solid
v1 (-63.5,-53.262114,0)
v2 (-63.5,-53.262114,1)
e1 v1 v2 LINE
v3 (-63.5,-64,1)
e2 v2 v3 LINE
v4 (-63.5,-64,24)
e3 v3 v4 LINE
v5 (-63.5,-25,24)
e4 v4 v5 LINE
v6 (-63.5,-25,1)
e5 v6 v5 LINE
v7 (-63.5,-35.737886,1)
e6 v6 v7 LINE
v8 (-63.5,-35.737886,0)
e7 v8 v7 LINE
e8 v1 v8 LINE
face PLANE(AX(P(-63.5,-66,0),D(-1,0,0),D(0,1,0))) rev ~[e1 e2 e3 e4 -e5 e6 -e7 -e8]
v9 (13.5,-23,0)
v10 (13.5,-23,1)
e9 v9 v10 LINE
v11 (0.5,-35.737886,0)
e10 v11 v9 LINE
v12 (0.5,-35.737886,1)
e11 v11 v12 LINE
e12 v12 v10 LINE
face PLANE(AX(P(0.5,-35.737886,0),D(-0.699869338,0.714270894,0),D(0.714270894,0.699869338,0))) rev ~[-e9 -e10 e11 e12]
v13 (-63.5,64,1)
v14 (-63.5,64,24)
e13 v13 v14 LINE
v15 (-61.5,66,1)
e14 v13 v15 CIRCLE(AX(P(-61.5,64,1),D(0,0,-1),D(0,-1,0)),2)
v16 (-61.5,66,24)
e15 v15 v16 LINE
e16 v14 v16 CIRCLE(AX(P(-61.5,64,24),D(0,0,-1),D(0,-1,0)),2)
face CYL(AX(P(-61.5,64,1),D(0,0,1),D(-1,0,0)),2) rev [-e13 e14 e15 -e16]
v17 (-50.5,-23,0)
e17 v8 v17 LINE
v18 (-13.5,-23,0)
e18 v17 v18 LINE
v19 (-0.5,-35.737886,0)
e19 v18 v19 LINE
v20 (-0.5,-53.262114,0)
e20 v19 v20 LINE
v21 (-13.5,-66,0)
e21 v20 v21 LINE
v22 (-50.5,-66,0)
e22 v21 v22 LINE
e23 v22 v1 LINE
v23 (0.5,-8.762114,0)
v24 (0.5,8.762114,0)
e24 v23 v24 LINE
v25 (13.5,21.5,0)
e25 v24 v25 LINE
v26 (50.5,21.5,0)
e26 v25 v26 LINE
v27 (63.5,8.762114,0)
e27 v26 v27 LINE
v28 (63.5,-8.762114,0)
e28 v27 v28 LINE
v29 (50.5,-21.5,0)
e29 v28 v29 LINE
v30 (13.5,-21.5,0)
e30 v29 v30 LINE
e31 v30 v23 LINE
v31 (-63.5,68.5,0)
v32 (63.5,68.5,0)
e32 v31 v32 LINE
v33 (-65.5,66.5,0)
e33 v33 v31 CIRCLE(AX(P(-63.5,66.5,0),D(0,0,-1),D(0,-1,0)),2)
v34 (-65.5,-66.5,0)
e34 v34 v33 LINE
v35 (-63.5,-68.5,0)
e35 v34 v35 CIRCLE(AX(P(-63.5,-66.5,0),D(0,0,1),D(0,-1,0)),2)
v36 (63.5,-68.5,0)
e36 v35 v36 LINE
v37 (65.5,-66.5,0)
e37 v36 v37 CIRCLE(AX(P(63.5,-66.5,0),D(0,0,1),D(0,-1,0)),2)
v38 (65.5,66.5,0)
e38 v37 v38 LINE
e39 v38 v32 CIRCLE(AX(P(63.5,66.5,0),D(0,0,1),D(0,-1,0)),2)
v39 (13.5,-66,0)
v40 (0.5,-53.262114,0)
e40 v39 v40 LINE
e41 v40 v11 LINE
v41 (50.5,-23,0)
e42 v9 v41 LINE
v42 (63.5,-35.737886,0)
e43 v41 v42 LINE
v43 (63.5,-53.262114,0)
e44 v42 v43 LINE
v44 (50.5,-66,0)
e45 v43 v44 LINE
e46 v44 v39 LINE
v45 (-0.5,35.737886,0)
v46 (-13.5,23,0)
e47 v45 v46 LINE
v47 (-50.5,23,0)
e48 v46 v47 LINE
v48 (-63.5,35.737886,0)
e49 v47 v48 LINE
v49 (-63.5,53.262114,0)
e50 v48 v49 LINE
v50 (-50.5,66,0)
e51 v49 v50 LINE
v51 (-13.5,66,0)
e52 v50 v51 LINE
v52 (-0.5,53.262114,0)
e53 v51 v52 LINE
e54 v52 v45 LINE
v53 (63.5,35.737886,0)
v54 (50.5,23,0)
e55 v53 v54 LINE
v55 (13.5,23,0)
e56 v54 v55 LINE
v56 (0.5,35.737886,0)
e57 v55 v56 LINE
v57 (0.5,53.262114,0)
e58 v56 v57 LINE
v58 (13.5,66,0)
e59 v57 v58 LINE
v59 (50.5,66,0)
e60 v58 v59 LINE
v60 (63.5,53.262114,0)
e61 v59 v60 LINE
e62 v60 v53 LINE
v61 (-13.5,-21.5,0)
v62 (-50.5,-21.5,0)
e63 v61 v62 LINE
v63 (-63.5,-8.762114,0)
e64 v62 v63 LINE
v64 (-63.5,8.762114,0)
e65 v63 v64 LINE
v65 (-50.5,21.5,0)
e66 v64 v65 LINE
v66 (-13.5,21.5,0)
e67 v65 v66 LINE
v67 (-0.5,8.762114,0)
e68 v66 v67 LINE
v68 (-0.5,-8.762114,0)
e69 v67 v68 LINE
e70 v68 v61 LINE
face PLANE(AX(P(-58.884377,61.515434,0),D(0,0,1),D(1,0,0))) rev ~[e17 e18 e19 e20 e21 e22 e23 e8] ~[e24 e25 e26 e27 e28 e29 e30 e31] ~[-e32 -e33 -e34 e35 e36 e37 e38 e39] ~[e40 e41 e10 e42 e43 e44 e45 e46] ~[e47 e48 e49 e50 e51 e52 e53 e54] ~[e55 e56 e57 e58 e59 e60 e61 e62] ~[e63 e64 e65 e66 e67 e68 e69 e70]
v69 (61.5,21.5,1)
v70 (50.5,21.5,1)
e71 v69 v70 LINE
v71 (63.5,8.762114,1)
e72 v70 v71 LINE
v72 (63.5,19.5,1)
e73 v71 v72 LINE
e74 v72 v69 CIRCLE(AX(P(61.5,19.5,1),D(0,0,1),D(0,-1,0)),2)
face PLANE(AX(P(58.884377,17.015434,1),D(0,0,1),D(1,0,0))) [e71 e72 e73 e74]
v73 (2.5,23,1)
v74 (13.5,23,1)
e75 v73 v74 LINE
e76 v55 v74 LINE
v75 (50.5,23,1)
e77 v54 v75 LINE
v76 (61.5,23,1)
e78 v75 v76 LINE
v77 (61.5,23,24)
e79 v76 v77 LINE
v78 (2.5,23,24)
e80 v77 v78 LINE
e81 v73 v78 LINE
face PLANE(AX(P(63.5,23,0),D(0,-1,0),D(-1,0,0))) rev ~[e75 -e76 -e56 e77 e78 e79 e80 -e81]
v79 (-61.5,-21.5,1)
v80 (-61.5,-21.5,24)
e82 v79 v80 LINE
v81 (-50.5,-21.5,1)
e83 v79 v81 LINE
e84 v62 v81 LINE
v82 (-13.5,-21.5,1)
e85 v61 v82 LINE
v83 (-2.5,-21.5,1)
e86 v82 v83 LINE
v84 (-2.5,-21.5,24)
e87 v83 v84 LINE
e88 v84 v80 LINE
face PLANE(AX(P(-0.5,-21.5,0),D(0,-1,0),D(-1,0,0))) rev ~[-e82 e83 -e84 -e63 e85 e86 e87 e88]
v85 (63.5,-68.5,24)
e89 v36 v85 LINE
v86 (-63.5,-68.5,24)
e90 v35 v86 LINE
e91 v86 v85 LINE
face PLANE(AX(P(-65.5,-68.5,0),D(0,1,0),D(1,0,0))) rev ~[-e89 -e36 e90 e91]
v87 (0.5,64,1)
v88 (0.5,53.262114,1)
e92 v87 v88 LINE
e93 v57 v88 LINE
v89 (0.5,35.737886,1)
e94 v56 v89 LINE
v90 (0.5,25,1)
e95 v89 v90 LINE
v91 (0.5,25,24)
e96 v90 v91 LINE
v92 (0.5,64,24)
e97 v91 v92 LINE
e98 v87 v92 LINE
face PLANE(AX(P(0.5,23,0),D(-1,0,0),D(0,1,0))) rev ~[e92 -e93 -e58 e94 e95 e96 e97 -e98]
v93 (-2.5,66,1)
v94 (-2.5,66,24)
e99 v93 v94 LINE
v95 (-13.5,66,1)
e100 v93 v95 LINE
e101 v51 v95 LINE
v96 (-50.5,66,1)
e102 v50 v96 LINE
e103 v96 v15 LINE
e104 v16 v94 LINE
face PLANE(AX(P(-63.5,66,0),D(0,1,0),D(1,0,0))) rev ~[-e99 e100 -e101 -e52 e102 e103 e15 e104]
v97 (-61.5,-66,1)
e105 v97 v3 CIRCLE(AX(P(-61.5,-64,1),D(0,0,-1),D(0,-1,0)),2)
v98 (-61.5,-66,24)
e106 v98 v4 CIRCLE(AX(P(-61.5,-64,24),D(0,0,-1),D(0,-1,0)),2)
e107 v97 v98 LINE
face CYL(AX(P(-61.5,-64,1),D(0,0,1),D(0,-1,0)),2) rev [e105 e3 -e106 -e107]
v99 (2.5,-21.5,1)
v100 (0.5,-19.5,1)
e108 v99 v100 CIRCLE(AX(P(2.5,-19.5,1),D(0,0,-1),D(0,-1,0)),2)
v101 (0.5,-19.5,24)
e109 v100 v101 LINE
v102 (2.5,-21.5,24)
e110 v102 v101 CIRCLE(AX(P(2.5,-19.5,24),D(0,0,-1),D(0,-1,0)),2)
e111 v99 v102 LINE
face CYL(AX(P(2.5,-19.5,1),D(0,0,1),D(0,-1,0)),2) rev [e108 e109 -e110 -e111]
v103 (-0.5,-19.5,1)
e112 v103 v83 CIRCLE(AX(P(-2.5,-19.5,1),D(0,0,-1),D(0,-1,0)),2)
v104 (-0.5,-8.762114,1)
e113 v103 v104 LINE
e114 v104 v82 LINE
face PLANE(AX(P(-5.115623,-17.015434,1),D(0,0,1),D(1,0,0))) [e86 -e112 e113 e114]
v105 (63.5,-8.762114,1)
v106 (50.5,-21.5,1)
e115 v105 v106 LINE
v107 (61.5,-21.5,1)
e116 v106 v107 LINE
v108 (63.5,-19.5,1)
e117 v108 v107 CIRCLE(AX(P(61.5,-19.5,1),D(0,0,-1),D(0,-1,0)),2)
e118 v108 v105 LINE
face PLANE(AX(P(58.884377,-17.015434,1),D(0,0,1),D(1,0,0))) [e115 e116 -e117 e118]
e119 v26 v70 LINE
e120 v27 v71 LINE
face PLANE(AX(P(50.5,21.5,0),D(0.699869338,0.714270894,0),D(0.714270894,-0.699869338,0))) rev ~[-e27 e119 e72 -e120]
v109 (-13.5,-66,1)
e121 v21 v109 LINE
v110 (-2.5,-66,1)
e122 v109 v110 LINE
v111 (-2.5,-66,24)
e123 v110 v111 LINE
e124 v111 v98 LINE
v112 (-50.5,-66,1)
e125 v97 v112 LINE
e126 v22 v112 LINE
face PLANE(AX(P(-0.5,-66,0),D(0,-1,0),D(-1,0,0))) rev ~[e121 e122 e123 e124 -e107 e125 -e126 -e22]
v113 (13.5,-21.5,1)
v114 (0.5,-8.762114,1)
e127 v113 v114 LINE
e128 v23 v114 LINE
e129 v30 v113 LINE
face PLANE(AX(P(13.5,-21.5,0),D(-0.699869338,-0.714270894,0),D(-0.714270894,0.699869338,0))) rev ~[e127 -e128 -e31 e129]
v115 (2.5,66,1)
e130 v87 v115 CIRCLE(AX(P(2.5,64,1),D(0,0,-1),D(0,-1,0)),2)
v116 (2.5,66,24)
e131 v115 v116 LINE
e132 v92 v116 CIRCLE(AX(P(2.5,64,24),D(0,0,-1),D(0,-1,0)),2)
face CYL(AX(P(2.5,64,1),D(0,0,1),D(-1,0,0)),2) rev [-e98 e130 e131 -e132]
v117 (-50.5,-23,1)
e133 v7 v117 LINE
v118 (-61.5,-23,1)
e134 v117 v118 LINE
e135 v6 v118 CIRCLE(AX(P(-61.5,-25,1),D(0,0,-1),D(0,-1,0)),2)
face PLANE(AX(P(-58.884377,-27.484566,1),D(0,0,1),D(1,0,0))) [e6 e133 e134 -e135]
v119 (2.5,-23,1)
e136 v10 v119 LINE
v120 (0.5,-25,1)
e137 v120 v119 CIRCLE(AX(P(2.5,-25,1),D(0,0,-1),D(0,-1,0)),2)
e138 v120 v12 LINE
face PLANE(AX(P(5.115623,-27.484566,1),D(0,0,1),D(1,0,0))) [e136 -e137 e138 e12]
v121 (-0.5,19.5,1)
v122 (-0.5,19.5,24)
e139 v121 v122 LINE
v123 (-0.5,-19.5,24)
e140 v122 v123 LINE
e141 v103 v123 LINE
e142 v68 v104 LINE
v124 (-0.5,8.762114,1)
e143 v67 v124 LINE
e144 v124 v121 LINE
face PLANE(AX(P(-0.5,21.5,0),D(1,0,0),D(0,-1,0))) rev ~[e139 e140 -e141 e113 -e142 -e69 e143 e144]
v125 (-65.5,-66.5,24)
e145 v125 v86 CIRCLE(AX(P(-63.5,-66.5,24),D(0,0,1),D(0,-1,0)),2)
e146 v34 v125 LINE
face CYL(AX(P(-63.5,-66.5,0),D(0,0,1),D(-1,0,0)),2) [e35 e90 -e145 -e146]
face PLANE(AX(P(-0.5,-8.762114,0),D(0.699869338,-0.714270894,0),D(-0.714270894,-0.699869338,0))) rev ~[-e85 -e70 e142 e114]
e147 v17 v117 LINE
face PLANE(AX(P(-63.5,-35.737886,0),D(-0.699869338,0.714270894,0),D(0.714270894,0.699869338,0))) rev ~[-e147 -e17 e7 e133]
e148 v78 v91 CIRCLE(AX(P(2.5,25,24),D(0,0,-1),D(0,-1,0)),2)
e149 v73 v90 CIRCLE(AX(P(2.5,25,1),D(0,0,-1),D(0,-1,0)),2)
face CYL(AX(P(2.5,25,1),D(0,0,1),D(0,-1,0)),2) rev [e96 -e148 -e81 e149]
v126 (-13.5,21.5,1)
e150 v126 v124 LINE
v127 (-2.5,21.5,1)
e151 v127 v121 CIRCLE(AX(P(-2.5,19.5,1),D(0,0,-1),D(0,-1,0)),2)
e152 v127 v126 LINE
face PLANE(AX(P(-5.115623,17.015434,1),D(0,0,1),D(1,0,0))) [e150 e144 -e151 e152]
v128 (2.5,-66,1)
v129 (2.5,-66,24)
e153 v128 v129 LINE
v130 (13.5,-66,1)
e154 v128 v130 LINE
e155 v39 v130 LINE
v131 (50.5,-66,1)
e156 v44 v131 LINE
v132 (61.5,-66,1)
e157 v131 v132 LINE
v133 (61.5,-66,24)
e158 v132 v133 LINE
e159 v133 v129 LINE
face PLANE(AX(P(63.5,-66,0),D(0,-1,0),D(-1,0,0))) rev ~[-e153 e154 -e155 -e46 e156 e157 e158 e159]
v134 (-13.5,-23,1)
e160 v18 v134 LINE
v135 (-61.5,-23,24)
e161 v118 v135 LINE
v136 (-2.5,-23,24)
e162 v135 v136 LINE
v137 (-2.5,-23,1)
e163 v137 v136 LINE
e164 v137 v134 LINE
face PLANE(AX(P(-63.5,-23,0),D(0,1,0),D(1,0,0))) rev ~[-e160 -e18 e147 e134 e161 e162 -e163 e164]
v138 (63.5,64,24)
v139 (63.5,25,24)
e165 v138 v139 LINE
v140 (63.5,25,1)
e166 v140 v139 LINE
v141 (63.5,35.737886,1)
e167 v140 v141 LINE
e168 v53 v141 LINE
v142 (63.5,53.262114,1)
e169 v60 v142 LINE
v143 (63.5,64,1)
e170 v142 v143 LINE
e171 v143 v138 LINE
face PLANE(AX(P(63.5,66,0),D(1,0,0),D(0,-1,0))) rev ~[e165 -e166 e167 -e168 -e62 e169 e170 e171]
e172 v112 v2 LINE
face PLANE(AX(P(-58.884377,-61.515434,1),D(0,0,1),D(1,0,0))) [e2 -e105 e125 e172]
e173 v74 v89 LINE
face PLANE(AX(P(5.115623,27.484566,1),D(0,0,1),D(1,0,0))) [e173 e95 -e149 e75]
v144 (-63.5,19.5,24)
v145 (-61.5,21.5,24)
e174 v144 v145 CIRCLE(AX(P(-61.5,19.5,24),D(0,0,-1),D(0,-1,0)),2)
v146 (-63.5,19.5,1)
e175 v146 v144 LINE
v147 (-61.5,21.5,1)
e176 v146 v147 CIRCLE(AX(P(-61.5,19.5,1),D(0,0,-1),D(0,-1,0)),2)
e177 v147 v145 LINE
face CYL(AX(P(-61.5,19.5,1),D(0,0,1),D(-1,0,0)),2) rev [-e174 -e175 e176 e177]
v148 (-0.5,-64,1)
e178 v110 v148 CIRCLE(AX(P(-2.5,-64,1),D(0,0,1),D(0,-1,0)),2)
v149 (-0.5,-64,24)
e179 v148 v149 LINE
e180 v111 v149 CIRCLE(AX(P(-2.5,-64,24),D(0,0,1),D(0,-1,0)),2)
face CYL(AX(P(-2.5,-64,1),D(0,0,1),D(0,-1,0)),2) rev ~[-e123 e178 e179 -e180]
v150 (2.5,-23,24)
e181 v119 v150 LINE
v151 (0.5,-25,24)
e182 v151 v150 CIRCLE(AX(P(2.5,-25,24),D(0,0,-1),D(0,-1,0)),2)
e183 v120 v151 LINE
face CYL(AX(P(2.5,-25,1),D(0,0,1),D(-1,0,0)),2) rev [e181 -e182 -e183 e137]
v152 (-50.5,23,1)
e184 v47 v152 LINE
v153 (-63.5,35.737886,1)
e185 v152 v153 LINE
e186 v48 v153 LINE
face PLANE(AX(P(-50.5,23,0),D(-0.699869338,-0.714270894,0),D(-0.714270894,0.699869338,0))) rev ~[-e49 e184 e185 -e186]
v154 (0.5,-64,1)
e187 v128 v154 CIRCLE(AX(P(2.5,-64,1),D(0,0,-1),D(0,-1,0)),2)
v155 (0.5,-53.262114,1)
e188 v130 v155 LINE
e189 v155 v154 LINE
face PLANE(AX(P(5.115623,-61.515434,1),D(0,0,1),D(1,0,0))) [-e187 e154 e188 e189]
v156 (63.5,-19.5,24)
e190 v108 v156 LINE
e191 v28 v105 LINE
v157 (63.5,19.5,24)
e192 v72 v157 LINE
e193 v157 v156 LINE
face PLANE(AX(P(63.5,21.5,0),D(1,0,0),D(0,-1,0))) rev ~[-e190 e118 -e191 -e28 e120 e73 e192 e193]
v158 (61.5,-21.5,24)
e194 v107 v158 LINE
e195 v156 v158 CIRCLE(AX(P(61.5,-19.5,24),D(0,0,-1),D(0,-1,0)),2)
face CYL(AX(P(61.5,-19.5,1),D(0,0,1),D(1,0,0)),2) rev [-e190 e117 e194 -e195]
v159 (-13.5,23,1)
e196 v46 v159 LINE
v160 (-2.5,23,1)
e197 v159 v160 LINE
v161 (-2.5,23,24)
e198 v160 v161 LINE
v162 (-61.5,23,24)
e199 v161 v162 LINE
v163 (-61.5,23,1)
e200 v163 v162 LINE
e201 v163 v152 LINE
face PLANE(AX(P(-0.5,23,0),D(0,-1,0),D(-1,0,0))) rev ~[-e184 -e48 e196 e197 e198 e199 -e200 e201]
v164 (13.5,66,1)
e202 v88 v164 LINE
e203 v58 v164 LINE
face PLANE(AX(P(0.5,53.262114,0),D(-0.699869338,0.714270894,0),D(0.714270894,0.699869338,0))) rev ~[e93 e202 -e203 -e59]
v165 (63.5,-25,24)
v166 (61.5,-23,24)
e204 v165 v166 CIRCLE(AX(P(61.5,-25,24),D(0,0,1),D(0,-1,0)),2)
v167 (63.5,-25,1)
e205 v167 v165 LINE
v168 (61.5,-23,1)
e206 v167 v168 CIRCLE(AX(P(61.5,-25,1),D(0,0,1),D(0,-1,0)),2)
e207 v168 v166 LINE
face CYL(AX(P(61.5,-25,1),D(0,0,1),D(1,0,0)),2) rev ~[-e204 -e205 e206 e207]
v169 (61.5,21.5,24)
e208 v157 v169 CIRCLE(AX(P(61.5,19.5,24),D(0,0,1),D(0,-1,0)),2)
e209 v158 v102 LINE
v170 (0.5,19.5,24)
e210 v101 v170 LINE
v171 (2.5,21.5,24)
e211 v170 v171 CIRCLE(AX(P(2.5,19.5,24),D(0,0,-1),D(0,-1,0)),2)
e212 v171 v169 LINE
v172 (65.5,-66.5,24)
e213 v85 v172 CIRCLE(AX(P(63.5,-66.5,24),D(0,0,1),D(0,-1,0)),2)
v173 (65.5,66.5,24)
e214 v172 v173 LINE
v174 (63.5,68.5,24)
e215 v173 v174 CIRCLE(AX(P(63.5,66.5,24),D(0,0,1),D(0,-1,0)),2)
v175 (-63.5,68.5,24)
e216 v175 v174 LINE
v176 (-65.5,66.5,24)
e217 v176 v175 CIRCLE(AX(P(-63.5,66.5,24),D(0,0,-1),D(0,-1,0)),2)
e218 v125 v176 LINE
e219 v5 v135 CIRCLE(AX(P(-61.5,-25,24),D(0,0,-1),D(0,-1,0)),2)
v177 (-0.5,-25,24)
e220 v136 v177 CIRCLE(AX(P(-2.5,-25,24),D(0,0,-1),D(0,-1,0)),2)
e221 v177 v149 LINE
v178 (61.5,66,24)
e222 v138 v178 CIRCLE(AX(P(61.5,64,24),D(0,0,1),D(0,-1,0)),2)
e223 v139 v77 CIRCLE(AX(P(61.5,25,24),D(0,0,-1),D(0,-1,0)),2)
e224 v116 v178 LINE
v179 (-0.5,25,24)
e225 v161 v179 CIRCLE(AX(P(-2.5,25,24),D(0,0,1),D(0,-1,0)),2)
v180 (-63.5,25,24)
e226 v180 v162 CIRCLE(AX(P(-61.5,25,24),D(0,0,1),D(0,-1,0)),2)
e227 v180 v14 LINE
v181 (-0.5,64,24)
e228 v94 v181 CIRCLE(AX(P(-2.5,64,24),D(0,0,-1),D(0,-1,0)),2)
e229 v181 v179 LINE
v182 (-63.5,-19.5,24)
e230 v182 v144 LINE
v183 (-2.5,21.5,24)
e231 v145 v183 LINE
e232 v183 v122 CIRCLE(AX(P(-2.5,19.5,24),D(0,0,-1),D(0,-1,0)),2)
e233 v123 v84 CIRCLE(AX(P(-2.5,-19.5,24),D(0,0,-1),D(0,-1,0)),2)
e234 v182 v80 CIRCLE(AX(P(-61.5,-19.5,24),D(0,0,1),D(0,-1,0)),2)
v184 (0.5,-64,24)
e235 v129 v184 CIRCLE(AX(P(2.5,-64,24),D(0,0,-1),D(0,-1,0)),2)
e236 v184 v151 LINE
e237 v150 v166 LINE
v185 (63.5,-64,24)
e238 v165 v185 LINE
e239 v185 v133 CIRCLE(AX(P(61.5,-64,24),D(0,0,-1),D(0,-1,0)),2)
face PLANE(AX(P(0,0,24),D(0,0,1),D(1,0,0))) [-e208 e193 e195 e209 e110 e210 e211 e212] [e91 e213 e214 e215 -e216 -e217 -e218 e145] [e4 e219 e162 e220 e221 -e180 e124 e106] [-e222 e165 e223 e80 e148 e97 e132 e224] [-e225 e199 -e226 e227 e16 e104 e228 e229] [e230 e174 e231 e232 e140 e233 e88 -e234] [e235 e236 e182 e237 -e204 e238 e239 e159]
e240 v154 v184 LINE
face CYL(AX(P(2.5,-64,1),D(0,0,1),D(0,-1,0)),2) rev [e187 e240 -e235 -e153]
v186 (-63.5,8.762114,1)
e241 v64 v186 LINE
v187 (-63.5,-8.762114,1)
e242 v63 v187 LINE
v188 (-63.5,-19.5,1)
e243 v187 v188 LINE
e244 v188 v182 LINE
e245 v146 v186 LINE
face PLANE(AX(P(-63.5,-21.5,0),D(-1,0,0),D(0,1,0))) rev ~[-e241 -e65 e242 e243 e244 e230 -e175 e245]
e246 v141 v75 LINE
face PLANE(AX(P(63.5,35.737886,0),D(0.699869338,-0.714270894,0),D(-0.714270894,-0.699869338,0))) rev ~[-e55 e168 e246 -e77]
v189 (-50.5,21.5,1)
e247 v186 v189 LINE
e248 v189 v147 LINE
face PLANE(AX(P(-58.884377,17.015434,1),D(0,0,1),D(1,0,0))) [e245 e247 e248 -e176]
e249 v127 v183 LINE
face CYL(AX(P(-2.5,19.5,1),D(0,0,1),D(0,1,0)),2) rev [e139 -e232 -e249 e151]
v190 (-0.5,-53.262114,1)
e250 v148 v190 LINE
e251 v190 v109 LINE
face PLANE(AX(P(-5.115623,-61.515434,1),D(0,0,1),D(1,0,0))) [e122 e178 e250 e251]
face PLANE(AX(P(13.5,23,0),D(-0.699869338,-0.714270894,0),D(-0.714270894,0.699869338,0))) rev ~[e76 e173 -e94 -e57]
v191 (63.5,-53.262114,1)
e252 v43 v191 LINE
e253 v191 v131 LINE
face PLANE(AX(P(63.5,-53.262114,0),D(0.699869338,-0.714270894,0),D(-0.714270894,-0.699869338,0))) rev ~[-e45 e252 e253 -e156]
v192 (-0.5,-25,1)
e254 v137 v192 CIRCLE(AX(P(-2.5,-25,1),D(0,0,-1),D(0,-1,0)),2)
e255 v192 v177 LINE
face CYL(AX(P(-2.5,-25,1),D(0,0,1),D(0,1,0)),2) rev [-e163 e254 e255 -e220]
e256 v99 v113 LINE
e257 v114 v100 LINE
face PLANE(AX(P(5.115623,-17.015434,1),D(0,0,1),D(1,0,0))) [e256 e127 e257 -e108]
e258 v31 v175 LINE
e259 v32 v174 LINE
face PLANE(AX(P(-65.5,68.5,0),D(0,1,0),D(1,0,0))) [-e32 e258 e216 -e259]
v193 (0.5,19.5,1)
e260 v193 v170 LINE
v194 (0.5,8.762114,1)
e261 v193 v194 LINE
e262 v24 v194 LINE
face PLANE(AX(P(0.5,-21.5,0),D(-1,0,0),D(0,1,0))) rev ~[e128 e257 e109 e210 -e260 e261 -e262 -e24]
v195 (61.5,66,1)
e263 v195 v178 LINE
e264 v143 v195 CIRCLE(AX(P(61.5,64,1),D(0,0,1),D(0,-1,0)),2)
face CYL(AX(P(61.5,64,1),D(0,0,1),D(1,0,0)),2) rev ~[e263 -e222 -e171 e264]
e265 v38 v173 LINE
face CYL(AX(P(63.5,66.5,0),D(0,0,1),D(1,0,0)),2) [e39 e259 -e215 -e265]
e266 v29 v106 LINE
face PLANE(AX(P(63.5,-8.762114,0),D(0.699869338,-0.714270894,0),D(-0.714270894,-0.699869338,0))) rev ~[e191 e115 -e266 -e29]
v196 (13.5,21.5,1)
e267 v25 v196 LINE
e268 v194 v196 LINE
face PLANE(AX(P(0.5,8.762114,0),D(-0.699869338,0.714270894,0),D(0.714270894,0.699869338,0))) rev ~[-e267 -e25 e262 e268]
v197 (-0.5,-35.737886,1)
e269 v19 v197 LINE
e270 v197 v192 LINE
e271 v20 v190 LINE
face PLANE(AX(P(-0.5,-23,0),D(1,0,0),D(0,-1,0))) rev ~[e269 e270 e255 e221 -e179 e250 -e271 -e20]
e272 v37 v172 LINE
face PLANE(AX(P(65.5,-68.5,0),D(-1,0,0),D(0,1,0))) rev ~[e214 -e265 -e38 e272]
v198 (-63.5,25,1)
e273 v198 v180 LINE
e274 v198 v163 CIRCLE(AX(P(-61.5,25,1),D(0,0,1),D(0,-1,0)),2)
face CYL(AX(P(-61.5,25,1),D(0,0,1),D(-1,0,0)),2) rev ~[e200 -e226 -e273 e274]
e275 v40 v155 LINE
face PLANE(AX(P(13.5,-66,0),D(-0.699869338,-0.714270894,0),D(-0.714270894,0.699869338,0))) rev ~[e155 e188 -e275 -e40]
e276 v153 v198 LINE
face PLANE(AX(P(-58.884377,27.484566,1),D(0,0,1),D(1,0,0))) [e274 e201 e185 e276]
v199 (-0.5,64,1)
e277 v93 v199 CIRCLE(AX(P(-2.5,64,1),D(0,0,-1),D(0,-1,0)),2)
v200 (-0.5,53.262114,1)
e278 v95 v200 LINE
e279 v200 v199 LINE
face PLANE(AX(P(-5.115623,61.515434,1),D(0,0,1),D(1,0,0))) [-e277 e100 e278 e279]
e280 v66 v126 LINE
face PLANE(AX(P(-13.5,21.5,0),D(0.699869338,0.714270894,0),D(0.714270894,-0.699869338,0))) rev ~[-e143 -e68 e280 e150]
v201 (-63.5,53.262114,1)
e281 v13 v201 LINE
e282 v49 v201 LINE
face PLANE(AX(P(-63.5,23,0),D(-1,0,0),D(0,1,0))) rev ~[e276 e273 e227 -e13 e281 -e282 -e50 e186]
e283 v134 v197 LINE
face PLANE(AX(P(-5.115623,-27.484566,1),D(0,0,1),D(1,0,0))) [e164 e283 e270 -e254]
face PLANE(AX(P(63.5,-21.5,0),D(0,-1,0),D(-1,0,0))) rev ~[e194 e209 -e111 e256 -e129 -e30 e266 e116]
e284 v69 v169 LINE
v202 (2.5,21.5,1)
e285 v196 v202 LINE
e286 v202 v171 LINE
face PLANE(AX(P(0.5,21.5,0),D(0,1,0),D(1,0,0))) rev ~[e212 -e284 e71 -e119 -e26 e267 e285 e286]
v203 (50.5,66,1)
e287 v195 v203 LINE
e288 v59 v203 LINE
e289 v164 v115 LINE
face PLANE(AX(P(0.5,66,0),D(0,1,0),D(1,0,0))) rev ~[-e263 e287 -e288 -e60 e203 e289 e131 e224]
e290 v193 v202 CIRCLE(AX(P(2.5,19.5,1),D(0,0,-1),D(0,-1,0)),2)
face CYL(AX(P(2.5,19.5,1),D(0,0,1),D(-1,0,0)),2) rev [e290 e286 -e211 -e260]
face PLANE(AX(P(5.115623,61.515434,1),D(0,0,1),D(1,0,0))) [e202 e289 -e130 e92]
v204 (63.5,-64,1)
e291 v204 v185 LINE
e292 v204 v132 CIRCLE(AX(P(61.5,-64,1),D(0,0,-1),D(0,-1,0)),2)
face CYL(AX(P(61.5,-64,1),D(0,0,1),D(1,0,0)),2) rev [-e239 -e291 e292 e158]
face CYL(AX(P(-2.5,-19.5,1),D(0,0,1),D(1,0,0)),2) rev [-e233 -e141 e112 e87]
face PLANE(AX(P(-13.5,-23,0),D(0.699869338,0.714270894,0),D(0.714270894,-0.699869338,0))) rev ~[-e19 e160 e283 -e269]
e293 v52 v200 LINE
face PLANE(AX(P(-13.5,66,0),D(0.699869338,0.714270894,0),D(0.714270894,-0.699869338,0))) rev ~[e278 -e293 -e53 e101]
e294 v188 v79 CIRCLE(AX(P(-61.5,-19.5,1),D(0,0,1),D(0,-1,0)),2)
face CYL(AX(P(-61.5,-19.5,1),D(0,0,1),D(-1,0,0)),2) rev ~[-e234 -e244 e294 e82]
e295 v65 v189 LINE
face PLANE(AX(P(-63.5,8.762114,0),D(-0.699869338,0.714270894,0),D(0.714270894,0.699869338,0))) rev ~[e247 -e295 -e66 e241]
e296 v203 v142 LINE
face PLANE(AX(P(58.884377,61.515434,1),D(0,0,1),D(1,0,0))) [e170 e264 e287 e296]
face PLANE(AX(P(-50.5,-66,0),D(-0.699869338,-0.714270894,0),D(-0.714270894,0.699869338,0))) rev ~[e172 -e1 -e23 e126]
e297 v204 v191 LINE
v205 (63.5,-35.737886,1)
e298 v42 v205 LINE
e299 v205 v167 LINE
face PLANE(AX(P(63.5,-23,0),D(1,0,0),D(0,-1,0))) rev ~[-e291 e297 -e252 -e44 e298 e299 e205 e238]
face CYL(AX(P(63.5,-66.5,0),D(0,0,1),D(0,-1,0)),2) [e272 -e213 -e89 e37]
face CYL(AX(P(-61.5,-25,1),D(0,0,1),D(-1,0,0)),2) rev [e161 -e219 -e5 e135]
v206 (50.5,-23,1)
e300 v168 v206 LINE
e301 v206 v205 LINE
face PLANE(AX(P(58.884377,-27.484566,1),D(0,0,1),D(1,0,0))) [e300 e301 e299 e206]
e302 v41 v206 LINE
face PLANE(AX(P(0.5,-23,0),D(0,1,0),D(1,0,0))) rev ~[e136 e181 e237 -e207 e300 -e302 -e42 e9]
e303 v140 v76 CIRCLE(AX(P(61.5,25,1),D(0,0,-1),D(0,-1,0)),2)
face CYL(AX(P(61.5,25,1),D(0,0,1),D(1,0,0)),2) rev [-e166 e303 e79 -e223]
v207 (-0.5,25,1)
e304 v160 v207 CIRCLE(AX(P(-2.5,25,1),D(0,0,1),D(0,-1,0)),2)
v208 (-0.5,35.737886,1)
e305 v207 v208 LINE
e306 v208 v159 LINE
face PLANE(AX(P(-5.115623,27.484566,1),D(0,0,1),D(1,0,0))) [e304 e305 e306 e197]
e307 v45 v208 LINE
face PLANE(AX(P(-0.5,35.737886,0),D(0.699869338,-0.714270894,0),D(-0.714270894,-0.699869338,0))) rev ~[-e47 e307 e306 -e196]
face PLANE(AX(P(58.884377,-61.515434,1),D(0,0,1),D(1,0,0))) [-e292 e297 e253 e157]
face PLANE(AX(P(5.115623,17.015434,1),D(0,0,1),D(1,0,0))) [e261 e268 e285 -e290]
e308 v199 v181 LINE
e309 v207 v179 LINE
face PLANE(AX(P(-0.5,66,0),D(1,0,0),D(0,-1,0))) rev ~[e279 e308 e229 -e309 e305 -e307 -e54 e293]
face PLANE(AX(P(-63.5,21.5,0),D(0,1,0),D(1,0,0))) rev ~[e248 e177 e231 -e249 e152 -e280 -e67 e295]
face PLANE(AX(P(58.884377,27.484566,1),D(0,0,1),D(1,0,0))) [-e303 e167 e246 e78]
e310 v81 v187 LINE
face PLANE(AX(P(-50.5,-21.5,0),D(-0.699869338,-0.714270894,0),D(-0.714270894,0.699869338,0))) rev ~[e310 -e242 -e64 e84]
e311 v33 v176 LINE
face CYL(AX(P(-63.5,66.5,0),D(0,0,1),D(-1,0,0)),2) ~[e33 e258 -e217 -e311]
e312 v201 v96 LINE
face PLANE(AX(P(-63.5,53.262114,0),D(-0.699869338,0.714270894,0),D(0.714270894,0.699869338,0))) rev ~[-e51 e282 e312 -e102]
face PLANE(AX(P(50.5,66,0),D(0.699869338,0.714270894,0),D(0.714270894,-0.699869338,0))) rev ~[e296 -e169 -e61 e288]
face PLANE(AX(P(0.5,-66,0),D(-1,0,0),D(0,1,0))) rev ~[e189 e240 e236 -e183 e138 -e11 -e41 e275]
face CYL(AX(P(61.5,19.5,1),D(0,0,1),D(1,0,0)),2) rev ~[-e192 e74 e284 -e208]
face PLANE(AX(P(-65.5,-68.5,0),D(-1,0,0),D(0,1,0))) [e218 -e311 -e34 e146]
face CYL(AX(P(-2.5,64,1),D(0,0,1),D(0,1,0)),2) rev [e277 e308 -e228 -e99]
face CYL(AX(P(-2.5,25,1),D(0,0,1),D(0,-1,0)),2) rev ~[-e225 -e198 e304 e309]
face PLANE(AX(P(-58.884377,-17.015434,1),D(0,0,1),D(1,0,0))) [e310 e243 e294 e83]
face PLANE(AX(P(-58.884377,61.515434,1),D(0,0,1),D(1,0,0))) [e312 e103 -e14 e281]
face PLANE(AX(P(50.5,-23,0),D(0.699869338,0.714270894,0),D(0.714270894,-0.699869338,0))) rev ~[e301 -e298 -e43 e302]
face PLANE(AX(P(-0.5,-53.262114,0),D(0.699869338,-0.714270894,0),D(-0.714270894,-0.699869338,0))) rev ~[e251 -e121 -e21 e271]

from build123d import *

# Parameters (mm, degrees)
F0_W     = 131
F0_H     = 137
F1_DEPTH = 24
F2_DEPTH = 1
F3_R     = 2


with BuildPart() as f1:
    # F0 (on Top) → F1 (new body)
    with BuildSketch(Plane.XY):
        Rectangle(F0_W, F0_H)
        Polygon((63.5, -53.262113756), (63.5, -66), (50.5, -66), (13.5, -66), (0.5, -66), (-0.5, -66), (-13.5, -66), (-50.5, -66), (-63.5, -66), (-63.5, -53.262113756), (-63.5, -35.737886244), (-63.5, -23), (-63.5, -21.5), (-63.5, -8.762113756), (-63.5, 8.762113756), (-63.5, 21.5), (-63.5, 23), (-63.5, 35.737886244), (-63.5, 53.262113756), (-63.5, 66), (-50.5, 66), (-13.5, 66), (-0.5, 66), (0.5, 66), (13.5, 66), (50.5, 66), (63.5, 66), (63.5, 53.262113756), (63.5, 35.737886244), (63.5, 23), (63.5, 21.5), (63.5, 8.762113756), (63.5, -8.762113756), (63.5, -21.5), (63.5, -23), (63.5, -35.737886244), align=None, mode=Mode.SUBTRACT)
        Polygon((-0.5, -66), (0.5, -66), (0.5, -53.262113756), (0.5, -35.737886244), (0.5, -23), (0.5, -21.5), (0.5, -8.762113756), (0.5, 8.762113756), (0.5, 21.5), (0.5, 23), (0.5, 35.737886244), (0.5, 53.262113756), (0.5, 66), (-0.5, 66), (-0.5, 53.262113756), (-0.5, 35.737886244), (-0.5, 23), (-0.5, 21.5), (-0.5, 8.762113756), (-0.5, -8.762113756), (-0.5, -21.5), (-0.5, -23), (-0.5, -35.737886244), (-0.5, -53.262113756), align=None)
        Polygon((50.5, 21.5), (63.5, 21.5), (63.5, 23), (50.5, 23), (13.5, 23), (0.5, 23), (0.5, 21.5), (13.5, 21.5), align=None)
        Polygon((-13.5, 21.5), (-0.5, 21.5), (-0.5, 23), (-13.5, 23), (-50.5, 23), (-63.5, 23), (-63.5, 21.5), (-50.5, 21.5), align=None)
        Polygon((-13.5, -23), (-0.5, -23), (-0.5, -21.5), (-13.5, -21.5), (-50.5, -21.5), (-63.5, -21.5), (-63.5, -23), (-50.5, -23), align=None)
        Polygon((50.5, -23), (63.5, -23), (63.5, -21.5), (50.5, -21.5), (13.5, -21.5), (0.5, -21.5), (0.5, -23), (13.5, -23), align=None)
    extrude(amount=F1_DEPTH)

    # F0 (on Top) → F2 (join)
    with BuildSketch(Plane.XY):
        Polygon((-63.5, 66), (-63.5, 53.262113756), (-50.5, 66), align=None)
        Polygon((-63.5, 35.737886244), (-63.5, 23), (-50.5, 23), align=None)
        Polygon((-13.5, 66), (-0.5, 53.262113756), (-0.5, 66), align=None)
        Polygon((-13.5, 23), (-0.5, 23), (-0.5, 35.737886244), align=None)
        Polygon((0.5, 66), (0.5, 53.262113756), (13.5, 66), align=None)
        Polygon((50.5, 66), (63.5, 53.262113756), (63.5, 66), align=None)
        Polygon((50.5, 23), (63.5, 23), (63.5, 35.737886244), align=None)
        Polygon((0.5, 35.737886244), (0.5, 23), (13.5, 23), align=None)
        Polygon((0.5, 21.5), (0.5, 8.762113756), (13.5, 21.5), align=None)
        Polygon((-13.5, 21.5), (-0.5, 8.762113756), (-0.5, 21.5), align=None)
        Polygon((-63.5, 21.5), (-63.5, 8.762113756), (-50.5, 21.5), align=None)
        Polygon((-63.5, -8.762113756), (-63.5, -21.5), (-50.5, -21.5), align=None)
        Polygon((-13.5, -21.5), (-0.5, -21.5), (-0.5, -8.762113756), align=None)
        Polygon((50.5, -21.5), (63.5, -21.5), (63.5, -8.762113756), align=None)
        Polygon((50.5, 21.5), (63.5, 8.762113756), (63.5, 21.5), align=None)
        Polygon((0.5, -8.762113756), (0.5, -21.5), (13.5, -21.5), align=None)
        Polygon((0.5, -23), (0.5, -35.737886244), (13.5, -23), align=None)
        Polygon((-13.5, -23), (-0.5, -35.737886244), (-0.5, -23), align=None)
        Polygon((-63.5, -23), (-63.5, -35.737886244), (-50.5, -23), align=None)
        Polygon((-63.5, -66), (-50.5, -66), (-63.5, -53.262113756), align=None)
        Polygon((-13.5, -66), (-0.5, -66), (-0.5, -53.262113756), align=None)
        Polygon((0.5, -66), (13.5, -66), (0.5, -53.262113756), align=None)
        Polygon((50.5, -23), (63.5, -35.737886244), (63.5, -23), align=None)
        Polygon((50.5, -66), (63.5, -66), (63.5, -53.262113756), align=None)
    extrude(amount=F2_DEPTH)

    # F3
    f3_edges = [f1.edges().sort_by_distance(p)[0] for p in [
        (-65.5, 68.5, 12),
        (65.5, 68.5, 12),
        (-65.5, -68.5, 12),
        (65.5, -68.5, 12),
        (63.5, -23, 12.5),
        (63.5, 66, 12.5),
        (-0.5, 66, 12.5),
        (-0.5, 21.5, 12.5),
        (-0.5, -23, 12.5),
        (63.5, 21.5, 12.5),
        (-63.5, 21.5, 12.5),
        (-63.5, 66, 12.5),
        (-63.5, -23, 12.5),
        (0.5, 66, 12.5),
        (0.5, 21.5, 12.5),
        (0.5, -23, 12.5),
        (-63.5, -66, 12.5),
        (-63.5, -21.5, 12.5),
        (-63.5, 23, 12.5),
        (0.5, 23, 12.5),
        (0.5, -21.5, 12.5),
        (0.5, -66, 12.5),
        (-0.5, -66, 12.5),
        (-0.5, -21.5, 12.5),
        (-0.5, 23, 12.5),
        (63.5, 23, 12.5),
        (63.5, -21.5, 12.5),
        (63.5, -66, 12.5),
    ]]
    fillet(f3_edges, radius=F3_R)


solid = f1.part
